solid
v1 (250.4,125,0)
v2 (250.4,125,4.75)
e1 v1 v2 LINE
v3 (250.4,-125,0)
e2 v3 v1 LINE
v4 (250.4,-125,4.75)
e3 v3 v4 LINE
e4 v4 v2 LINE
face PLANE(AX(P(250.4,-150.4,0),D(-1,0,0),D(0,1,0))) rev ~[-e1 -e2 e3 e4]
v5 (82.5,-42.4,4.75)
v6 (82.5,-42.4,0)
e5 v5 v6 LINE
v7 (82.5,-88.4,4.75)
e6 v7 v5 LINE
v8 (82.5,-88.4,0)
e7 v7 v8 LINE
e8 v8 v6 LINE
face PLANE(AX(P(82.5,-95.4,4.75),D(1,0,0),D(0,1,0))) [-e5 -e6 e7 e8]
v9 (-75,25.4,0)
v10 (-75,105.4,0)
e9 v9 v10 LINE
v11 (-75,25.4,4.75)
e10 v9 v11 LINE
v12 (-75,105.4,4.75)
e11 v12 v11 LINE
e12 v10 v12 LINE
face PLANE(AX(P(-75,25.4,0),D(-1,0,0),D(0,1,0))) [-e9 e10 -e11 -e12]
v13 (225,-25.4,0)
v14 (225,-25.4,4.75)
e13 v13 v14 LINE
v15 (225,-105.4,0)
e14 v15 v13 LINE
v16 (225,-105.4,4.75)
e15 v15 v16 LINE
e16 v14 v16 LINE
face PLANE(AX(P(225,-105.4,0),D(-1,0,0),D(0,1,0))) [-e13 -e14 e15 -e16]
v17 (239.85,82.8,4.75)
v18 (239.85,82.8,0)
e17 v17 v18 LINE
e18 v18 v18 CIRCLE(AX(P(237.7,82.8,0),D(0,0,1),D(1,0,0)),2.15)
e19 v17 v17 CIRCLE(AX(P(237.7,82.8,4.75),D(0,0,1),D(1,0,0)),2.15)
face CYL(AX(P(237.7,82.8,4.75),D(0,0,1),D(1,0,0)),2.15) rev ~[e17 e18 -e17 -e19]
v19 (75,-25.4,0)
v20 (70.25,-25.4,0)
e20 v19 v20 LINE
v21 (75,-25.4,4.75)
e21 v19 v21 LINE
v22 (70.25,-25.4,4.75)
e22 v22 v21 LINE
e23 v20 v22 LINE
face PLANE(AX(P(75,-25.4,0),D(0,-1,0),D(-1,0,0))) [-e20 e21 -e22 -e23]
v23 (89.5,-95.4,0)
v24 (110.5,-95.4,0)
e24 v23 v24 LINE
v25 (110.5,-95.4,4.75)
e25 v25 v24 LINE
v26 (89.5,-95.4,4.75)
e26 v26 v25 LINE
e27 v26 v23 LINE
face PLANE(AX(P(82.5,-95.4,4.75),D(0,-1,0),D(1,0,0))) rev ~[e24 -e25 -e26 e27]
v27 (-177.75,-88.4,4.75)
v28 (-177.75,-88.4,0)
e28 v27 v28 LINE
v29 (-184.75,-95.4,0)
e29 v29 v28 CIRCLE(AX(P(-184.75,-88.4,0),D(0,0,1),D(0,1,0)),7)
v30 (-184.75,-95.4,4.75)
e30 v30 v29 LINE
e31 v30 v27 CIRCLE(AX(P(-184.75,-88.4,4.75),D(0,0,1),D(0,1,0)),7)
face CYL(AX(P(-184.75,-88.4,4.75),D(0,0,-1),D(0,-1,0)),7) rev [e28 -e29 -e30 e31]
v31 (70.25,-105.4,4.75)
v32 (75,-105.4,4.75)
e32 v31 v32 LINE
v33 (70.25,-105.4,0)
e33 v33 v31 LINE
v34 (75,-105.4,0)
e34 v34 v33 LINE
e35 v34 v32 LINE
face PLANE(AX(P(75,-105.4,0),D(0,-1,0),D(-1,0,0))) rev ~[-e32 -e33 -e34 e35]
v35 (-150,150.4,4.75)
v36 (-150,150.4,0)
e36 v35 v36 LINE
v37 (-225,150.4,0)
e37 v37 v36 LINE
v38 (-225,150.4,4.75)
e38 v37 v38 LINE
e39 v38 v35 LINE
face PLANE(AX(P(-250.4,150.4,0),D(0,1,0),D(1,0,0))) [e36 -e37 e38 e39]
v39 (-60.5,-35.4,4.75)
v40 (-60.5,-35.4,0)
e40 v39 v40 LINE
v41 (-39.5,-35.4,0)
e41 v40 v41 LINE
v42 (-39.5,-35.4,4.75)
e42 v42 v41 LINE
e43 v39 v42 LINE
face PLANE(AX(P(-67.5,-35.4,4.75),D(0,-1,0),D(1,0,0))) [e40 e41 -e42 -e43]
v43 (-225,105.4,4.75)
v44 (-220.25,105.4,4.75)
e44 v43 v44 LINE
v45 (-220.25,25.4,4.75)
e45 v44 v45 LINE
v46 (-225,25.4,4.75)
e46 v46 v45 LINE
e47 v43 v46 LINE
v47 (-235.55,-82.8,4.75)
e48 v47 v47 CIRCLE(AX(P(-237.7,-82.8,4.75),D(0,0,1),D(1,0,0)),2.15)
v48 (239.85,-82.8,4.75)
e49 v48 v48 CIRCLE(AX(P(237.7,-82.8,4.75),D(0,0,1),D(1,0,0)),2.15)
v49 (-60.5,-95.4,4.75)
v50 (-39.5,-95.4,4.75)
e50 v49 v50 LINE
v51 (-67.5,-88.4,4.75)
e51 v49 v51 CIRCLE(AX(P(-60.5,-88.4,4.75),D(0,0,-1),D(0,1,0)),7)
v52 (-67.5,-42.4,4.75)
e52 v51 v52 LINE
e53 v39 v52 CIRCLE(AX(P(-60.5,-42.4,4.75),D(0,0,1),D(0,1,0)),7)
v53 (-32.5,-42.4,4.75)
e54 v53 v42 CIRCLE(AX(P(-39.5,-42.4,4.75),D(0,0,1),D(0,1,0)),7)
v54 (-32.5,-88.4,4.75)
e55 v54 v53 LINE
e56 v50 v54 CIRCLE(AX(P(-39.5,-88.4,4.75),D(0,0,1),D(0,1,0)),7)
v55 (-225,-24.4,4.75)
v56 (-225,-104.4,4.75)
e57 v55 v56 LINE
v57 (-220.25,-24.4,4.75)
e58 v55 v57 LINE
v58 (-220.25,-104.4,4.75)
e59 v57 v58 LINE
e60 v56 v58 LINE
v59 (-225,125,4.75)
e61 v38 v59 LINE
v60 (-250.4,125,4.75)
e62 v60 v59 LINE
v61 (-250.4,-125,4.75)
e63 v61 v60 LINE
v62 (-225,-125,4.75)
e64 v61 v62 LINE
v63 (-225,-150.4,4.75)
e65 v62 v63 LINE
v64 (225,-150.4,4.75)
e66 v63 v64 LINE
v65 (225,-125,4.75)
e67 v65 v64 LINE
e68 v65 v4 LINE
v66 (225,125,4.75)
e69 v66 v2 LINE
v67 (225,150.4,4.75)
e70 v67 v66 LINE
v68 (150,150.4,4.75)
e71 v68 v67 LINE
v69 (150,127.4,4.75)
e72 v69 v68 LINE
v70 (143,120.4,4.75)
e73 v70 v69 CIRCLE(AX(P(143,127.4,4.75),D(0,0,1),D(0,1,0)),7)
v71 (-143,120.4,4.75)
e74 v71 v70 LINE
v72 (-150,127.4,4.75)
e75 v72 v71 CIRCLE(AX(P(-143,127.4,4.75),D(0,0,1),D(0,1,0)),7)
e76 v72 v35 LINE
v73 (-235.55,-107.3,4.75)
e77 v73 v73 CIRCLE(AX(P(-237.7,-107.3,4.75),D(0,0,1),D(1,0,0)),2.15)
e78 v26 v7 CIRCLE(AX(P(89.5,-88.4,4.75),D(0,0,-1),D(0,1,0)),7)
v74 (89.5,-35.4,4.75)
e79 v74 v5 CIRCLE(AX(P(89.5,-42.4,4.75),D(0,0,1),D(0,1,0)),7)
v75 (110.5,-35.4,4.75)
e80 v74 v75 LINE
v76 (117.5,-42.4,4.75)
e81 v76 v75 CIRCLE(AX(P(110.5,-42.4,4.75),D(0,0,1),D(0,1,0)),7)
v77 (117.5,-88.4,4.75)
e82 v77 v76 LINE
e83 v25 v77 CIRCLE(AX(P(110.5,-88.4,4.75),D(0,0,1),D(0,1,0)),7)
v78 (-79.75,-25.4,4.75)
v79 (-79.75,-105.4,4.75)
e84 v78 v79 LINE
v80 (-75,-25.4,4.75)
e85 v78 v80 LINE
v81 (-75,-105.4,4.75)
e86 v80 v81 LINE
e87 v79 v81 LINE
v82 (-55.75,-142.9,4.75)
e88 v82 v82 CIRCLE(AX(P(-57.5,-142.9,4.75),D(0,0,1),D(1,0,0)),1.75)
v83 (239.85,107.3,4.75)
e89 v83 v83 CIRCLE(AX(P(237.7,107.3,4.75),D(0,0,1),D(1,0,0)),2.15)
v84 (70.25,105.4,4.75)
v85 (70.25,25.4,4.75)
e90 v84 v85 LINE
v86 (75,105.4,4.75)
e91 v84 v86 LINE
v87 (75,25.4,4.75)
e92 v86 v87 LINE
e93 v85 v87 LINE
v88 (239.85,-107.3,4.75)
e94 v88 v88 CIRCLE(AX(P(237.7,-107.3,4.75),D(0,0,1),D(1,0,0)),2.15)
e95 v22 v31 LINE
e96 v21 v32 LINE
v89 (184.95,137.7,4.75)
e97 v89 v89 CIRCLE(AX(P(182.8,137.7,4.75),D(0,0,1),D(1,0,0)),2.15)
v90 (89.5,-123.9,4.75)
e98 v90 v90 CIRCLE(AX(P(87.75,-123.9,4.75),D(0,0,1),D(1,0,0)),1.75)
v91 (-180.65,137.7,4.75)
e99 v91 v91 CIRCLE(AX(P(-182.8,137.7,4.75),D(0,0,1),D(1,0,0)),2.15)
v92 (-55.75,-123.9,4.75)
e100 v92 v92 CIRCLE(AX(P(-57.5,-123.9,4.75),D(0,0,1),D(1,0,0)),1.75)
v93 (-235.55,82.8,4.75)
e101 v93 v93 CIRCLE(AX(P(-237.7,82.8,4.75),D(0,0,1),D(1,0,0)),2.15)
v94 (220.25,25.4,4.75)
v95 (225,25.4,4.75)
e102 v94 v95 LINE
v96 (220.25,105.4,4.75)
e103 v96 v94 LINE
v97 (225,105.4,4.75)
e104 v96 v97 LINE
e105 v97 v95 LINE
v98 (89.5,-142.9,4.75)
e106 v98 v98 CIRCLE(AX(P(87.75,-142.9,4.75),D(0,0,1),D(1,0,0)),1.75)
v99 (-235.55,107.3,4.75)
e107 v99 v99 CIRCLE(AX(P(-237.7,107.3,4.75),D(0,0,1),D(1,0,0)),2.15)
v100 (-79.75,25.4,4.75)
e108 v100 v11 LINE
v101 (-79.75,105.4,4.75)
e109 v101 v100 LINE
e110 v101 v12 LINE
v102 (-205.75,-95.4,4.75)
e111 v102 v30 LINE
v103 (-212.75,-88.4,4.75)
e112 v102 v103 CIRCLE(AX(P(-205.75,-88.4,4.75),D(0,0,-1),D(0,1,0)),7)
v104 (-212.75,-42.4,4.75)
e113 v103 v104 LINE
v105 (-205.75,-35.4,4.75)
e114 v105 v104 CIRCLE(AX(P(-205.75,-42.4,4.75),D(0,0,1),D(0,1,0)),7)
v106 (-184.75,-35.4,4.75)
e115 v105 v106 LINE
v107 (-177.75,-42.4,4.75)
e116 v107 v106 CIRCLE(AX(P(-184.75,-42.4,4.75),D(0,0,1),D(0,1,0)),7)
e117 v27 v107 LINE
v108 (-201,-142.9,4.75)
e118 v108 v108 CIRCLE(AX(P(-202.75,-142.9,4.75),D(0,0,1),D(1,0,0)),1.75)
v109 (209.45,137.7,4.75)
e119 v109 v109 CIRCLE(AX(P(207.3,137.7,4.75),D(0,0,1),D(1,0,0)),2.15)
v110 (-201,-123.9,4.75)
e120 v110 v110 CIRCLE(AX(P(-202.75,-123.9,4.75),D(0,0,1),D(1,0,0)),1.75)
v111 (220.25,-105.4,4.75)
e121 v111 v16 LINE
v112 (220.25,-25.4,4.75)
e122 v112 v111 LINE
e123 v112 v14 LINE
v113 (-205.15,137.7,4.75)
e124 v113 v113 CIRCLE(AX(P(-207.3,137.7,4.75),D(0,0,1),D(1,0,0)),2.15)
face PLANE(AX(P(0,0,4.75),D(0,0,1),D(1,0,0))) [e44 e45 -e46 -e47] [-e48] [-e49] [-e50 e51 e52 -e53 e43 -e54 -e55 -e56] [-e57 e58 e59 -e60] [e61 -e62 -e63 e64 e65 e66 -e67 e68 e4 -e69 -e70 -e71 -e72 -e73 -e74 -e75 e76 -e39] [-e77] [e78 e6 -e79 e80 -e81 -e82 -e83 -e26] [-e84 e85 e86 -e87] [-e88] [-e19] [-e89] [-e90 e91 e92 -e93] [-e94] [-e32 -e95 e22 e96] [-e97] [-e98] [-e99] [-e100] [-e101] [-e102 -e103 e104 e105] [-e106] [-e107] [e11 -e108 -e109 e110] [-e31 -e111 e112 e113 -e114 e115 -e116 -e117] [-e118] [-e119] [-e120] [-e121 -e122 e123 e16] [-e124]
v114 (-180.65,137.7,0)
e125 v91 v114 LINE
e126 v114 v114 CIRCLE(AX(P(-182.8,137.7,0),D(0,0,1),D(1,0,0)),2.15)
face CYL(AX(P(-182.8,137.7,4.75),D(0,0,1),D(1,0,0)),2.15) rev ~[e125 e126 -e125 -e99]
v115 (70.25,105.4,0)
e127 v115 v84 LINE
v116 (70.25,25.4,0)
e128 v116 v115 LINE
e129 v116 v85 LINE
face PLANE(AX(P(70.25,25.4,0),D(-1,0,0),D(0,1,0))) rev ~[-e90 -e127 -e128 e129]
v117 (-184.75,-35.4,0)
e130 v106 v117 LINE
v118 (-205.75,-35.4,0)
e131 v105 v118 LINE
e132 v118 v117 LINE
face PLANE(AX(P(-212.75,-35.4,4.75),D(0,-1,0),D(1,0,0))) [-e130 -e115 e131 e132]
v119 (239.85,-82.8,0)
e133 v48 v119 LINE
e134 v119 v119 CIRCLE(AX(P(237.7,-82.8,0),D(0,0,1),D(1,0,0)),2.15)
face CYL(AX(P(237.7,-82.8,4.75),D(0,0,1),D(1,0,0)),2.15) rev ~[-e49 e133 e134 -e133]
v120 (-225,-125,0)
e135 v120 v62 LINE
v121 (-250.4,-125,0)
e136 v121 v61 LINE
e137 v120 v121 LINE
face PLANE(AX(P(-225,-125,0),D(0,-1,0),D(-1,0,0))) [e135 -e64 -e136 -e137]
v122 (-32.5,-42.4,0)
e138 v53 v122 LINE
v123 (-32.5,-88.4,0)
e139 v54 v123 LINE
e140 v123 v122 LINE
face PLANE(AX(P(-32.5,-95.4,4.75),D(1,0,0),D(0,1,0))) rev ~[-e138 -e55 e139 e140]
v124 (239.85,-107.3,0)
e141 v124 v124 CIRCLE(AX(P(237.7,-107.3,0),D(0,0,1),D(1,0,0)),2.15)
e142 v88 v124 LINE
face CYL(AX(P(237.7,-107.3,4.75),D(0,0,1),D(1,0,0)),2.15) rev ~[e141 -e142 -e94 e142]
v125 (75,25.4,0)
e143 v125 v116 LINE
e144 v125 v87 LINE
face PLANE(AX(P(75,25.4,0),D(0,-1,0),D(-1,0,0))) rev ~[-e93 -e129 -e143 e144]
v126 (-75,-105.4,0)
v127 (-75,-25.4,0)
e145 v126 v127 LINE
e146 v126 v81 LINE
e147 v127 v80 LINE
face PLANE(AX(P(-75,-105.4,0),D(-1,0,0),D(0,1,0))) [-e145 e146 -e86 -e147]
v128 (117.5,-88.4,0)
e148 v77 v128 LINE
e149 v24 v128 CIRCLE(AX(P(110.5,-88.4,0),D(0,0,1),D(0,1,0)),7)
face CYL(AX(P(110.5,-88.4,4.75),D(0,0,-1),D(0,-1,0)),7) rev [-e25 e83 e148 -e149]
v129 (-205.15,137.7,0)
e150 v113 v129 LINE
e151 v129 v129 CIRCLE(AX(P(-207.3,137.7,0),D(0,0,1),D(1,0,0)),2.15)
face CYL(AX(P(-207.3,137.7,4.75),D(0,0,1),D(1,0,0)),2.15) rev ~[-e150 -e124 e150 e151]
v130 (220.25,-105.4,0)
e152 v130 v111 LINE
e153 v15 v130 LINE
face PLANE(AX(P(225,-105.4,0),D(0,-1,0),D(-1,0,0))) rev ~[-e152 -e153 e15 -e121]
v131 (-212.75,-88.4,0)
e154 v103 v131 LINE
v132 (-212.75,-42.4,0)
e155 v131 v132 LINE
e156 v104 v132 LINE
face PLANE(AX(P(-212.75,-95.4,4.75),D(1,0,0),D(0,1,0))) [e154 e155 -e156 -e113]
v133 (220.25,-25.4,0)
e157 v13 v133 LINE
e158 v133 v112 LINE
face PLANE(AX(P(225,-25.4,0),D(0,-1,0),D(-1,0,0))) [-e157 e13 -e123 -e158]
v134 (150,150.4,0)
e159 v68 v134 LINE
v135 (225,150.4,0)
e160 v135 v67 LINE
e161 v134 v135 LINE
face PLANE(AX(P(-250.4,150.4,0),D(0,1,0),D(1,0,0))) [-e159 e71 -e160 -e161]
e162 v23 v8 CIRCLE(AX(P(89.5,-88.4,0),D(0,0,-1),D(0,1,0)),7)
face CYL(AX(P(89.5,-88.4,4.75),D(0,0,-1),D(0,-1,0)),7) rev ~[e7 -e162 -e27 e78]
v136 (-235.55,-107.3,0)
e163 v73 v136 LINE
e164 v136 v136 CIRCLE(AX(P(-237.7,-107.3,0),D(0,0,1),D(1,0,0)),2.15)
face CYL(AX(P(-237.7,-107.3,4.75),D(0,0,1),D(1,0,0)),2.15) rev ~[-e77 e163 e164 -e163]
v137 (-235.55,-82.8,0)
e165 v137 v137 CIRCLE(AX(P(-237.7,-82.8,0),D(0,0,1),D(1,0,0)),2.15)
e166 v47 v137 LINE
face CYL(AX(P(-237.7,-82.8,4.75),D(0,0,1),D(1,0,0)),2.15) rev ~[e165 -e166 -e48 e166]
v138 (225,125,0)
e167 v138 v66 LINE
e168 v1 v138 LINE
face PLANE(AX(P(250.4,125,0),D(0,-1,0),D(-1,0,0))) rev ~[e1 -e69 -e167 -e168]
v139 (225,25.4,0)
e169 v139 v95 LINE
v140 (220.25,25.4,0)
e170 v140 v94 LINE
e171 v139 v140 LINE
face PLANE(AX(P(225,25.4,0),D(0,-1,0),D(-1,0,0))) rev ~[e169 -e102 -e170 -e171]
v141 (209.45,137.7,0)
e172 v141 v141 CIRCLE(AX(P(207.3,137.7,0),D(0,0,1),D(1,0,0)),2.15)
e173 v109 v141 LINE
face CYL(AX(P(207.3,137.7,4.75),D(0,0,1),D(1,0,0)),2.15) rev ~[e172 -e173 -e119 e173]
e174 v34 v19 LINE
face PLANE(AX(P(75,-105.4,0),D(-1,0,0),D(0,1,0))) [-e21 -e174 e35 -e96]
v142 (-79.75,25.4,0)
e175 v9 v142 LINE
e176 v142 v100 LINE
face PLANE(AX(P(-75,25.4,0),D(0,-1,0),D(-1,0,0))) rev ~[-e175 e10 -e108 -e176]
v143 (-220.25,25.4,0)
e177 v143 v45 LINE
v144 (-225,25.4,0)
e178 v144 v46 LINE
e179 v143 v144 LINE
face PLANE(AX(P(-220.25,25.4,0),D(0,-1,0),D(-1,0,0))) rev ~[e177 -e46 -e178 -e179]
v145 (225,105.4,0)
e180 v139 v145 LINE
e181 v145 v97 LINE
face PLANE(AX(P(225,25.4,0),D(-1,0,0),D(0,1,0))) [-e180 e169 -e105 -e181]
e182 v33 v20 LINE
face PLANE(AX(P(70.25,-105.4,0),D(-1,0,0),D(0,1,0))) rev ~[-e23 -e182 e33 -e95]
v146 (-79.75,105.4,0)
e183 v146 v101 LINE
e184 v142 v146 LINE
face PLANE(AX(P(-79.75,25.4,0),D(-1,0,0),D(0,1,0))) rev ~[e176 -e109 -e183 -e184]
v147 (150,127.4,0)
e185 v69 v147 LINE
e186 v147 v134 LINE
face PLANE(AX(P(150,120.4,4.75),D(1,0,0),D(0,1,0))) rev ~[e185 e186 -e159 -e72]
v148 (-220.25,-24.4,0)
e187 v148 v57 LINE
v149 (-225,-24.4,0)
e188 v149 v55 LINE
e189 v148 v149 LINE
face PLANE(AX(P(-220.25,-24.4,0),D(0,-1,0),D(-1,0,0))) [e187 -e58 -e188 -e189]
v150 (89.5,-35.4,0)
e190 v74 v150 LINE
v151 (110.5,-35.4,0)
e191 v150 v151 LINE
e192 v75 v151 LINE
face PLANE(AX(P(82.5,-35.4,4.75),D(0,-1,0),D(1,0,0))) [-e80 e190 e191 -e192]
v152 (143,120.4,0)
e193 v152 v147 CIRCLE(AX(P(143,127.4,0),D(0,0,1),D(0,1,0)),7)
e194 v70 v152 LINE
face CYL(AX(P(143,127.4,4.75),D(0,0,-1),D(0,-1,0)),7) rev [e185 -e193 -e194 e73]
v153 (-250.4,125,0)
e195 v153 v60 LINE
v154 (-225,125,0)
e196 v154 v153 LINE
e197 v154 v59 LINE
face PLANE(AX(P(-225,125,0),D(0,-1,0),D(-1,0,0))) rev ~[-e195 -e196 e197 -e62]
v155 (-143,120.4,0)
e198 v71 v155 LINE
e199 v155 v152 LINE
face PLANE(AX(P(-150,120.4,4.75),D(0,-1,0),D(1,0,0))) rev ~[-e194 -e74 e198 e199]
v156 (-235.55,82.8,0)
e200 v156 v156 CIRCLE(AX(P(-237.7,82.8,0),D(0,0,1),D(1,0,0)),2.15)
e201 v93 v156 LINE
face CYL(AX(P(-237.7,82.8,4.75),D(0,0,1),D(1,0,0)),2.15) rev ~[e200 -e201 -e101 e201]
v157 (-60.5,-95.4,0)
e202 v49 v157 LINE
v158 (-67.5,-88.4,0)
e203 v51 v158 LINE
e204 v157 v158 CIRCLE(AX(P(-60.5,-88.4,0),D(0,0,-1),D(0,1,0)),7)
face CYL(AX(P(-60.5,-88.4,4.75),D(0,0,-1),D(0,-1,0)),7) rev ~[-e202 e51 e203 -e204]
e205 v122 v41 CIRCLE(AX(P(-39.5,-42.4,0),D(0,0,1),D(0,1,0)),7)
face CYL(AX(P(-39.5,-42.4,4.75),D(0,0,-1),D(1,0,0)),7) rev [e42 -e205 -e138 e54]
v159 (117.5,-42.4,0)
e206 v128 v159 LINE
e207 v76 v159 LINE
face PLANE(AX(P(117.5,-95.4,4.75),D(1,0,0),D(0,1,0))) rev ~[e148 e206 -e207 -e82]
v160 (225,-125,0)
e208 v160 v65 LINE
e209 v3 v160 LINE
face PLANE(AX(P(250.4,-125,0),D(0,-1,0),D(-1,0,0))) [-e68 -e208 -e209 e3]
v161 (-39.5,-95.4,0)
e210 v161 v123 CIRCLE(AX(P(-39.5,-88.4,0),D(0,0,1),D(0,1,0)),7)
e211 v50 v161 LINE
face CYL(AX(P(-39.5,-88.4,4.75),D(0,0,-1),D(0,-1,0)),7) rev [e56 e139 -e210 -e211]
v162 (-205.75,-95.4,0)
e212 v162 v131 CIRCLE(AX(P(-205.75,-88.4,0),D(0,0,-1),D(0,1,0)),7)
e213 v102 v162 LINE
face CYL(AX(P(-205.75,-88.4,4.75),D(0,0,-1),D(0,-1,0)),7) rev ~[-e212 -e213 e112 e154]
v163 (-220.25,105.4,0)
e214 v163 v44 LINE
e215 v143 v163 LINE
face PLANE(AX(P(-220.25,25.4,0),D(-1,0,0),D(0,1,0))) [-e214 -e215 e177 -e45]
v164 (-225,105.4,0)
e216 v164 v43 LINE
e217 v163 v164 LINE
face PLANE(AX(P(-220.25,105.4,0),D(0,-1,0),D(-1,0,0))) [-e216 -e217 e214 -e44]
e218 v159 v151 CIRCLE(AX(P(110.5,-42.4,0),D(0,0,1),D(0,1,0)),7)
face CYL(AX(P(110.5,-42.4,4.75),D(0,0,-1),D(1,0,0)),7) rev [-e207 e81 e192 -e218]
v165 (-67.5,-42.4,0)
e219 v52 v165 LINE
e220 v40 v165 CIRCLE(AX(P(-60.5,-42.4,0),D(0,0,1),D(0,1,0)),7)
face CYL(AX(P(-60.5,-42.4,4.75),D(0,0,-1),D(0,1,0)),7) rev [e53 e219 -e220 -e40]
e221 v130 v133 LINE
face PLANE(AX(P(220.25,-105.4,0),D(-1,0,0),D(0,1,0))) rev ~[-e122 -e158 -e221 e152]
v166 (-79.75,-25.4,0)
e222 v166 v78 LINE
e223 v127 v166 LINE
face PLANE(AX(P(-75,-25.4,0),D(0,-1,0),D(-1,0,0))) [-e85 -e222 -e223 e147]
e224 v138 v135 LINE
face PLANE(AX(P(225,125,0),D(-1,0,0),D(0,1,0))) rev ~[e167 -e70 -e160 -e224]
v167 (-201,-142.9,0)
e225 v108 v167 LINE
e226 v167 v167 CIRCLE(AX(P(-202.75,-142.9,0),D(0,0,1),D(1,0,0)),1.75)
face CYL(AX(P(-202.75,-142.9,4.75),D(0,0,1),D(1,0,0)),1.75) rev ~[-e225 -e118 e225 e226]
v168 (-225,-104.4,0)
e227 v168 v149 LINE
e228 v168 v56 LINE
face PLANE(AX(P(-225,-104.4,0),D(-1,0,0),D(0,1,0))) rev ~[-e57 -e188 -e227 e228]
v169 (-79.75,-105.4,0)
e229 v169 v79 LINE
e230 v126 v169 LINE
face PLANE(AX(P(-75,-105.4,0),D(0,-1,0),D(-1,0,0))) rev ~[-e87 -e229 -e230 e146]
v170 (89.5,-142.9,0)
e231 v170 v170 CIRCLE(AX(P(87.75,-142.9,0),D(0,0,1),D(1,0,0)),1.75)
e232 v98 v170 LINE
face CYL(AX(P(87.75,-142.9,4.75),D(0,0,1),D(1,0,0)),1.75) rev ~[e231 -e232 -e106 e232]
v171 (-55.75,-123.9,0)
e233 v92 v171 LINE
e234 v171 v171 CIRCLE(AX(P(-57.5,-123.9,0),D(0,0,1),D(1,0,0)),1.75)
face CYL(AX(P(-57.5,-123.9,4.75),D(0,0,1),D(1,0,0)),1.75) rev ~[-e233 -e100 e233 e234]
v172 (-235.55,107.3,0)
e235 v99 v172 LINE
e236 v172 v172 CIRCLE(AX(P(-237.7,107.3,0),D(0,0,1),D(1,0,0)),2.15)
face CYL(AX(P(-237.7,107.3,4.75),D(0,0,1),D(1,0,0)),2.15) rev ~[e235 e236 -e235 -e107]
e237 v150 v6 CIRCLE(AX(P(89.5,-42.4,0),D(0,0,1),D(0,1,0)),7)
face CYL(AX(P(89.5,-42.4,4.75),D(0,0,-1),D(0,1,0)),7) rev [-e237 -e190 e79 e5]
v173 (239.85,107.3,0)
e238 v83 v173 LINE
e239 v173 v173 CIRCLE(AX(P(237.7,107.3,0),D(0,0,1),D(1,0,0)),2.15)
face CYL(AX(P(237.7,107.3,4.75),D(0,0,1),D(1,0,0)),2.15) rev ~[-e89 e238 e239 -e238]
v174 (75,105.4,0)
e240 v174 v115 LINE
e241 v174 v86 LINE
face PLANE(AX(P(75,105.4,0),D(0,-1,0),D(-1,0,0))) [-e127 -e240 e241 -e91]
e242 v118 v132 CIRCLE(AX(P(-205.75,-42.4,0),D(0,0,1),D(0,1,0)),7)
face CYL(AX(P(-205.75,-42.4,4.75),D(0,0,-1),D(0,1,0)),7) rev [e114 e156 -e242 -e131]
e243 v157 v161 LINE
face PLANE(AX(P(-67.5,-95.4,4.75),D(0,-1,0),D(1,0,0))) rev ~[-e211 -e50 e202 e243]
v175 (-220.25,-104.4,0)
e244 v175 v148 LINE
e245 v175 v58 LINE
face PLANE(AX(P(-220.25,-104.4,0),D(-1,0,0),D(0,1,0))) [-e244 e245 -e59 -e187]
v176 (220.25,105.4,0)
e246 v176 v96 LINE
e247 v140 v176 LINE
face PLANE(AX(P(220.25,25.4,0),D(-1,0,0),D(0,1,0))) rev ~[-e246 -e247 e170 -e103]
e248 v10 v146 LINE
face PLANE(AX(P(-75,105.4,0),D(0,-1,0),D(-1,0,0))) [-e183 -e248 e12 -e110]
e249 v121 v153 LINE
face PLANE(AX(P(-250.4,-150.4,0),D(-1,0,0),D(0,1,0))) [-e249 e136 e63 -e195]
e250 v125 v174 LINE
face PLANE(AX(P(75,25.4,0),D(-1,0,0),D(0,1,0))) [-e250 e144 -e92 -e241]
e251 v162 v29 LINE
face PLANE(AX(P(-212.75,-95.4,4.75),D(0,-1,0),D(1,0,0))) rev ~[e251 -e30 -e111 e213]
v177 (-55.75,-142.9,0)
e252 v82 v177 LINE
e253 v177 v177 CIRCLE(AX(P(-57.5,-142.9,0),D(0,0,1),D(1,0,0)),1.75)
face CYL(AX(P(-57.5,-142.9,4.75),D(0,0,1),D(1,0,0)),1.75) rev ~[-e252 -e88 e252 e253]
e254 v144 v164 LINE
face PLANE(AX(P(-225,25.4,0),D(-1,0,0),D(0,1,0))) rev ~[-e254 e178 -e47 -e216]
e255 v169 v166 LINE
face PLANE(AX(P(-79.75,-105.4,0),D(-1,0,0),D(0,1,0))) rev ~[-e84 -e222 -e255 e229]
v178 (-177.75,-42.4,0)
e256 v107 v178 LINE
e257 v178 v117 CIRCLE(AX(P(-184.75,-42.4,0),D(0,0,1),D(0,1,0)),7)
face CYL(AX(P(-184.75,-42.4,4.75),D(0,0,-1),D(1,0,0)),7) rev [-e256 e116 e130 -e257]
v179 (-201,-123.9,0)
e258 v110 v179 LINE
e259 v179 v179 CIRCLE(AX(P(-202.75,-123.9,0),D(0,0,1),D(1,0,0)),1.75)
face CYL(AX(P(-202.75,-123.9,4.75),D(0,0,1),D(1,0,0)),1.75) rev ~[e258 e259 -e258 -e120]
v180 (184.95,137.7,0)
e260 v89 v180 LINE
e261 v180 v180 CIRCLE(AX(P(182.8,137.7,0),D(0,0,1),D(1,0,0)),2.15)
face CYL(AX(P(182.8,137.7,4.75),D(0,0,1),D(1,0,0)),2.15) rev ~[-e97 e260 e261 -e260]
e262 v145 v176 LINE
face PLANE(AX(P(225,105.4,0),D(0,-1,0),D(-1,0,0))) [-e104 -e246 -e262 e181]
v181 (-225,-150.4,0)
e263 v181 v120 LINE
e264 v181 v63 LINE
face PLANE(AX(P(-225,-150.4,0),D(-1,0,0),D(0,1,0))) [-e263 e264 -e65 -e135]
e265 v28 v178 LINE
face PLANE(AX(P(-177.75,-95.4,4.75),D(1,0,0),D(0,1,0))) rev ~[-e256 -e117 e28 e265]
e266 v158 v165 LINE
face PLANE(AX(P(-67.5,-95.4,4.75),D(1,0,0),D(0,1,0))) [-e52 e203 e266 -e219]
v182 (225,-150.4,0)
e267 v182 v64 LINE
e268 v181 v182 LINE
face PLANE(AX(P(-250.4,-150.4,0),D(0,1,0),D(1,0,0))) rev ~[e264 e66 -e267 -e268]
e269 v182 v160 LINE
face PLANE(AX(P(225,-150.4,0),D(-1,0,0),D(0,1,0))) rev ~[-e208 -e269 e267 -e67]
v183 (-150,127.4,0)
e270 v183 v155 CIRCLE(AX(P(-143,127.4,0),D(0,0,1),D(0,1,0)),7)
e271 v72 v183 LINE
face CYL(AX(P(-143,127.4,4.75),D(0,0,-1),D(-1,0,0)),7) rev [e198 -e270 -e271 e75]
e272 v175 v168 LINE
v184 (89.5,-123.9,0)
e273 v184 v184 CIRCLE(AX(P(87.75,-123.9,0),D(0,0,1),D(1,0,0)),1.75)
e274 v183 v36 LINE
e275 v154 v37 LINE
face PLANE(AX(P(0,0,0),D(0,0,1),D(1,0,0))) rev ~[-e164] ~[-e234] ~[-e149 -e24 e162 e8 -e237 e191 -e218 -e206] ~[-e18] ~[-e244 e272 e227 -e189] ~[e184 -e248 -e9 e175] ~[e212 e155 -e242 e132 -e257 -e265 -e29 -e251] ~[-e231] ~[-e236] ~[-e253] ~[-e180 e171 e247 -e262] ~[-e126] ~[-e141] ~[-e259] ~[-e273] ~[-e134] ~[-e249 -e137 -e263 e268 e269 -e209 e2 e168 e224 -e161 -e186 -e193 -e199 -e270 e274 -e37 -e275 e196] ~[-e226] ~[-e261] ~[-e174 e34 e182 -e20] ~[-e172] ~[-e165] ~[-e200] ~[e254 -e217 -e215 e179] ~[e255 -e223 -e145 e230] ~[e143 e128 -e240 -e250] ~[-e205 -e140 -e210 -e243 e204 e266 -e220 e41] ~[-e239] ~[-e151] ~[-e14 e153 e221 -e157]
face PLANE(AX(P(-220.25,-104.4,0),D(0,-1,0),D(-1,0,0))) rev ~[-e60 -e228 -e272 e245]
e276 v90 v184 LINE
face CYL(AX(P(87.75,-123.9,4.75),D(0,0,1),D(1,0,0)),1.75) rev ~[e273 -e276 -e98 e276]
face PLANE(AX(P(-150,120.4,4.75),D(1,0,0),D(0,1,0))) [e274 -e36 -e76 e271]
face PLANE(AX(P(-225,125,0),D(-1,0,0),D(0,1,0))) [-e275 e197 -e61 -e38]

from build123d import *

# Parameters (mm, degrees)
SKETCH_1_W          = 500.8
SKETCH_1_H          = 300.8
EXTRUDE_1_DEPTH     = 4.75
SKETCH_2_W          = 25.4
SKETCH_2_H          = 25.4
SKETCH_2_W_2        = 4.75
SKETCH_2_H_2        = 80
CUT_EXTRUDE_1_DEPTH = 25.4
SKETCH_3_R          = 2.15
SKETCH_3_R_2        = 2.150000004
CUT_EXTRUDE_2_DEPTH = 5
SKETCH_5_W          = 35
SKETCH_5_H          = 60
SKETCH_5_W_2        = 300
SKETCH_5_H_2        = 30
CUT_EXTRUDE_3_DEPTH = 10
FILLET_1_R          = 7
SKETCH_6_R          = 1.75
CUT_EXTRUDE_4_DEPTH = 10


with BuildPart() as part:
    # 草圖1 → 填料-伸長1 (new body)
    with BuildSketch(Plane.XY):
        Rectangle(SKETCH_1_W, SKETCH_1_H)
    extrude(amount=EXTRUDE_1_DEPTH)

    # 草圖2 → 除料-伸長1 (cut)
    with BuildSketch(Plane(origin=(0, 0, 0), x_dir=(-1, 0, 0), z_dir=(0, 0, -1))):
        with Locations((-237.7, 137.7)):
            Rectangle(SKETCH_2_W, SKETCH_2_H)
        with Locations((-237.7, -137.7)):
            Rectangle(SKETCH_2_W, SKETCH_2_H)
        with Locations((237.7, 137.7)):
            Rectangle(SKETCH_2_W, SKETCH_2_H)
        with Locations((237.7, -137.7)):
            Rectangle(SKETCH_2_W, SKETCH_2_H)
        with Locations((-222.625, 65.4)):
            Rectangle(SKETCH_2_W_2, SKETCH_2_H_2)
        with Locations((-222.625, -65.4)):
            Rectangle(SKETCH_2_W_2, SKETCH_2_H_2)
        with Locations((222.625, 65.4)):
            Rectangle(SKETCH_2_W_2, SKETCH_2_H_2)
        with Locations((222.625, -64.4)):
            Rectangle(SKETCH_2_W_2, SKETCH_2_H_2)
        with Locations((-72.625, 65.4)):
            Rectangle(SKETCH_2_W_2, SKETCH_2_H_2)
        with Locations((77.375, 65.4)):
            Rectangle(SKETCH_2_W_2, SKETCH_2_H_2)
        with Locations((77.375, -65.4)):
            Rectangle(SKETCH_2_W_2, SKETCH_2_H_2)
        with Locations((-72.625, -65.4)):
            Rectangle(SKETCH_2_W_2, SKETCH_2_H_2)
    extrude(amount=-CUT_EXTRUDE_1_DEPTH, mode=Mode.SUBTRACT)

    # 草圖3 → 除料-伸長2 (cut)
    with BuildSketch(Plane.XY.offset(4.75)):
        with Locations((-207.3, 137.7)):
            Circle(SKETCH_3_R)
        with Locations((-182.8, 137.7)):
            Circle(SKETCH_3_R)
        with Locations((182.8, 137.7)):
            Circle(SKETCH_3_R)
        with Locations((207.3, 137.7)):
            Circle(SKETCH_3_R)
        with Locations((237.7, 107.3)):
            Circle(SKETCH_3_R)
        with Locations((237.7, 82.8)):
            Circle(SKETCH_3_R)
        with Locations((237.7, -82.800000014)):
            Circle(SKETCH_3_R_2)
        with Locations((237.7, -107.300000014)):
            Circle(SKETCH_3_R_2)
        with Locations((-237.7, 107.3)):
            Circle(SKETCH_3_R)
        with Locations((-237.7, 82.8)):
            Circle(SKETCH_3_R)
        with Locations((-237.7, -82.800000014)):
            Circle(SKETCH_3_R_2)
        with Locations((-237.7, -107.300000014)):
            Circle(SKETCH_3_R_2)
    extrude(amount=-CUT_EXTRUDE_2_DEPTH, mode=Mode.SUBTRACT)

    # 草圖5 → 除料-伸長3 (cut)
    with BuildSketch(Plane.XY.offset(4.75)):
        with Locations((100, -65.4)):
            Rectangle(SKETCH_5_W, SKETCH_5_H)
        with Locations((-50, -65.4)):
            Rectangle(SKETCH_5_W, SKETCH_5_H)
        with Locations((-195.25, -65.4)):
            Rectangle(SKETCH_5_W, SKETCH_5_H)
        with Locations((0, 135.4)):
            Rectangle(SKETCH_5_W_2, SKETCH_5_H_2)
    extrude(amount=-CUT_EXTRUDE_3_DEPTH, mode=Mode.SUBTRACT)

    # 圓角1
    fillet_1_edges = [part.edges().sort_by_distance(p)[0] for p in [
        (-150, 120.4, 2.375),
        (150, 120.4, 2.375),
        (-177.75, -35.4, 2.375),
        (-177.75, -95.4, 2.375),
        (-212.75, -95.4, 2.375),
        (-212.75, -35.4, 2.375),
        (-32.5, -35.4, 2.375),
        (-32.5, -95.4, 2.375),
        (-67.5, -95.4, 2.375),
        (-67.5, -35.4, 2.375),
        (117.5, -35.4, 2.375),
        (117.5, -95.4, 2.375),
        (82.5, -95.4, 2.375),
        (82.5, -35.4, 2.375),
    ]]
    fillet(fillet_1_edges, radius=FILLET_1_R)

    # 草圖6 → 除料-伸長4 (cut)
    with BuildSketch(Plane.XY.offset(4.75)):
        with Locations((-202.75, -142.9)):
            Circle(SKETCH_6_R)
        with Locations((-202.75, -123.9)):
            Circle(SKETCH_6_R)
        with Locations((-57.5, -142.9)):
            Circle(SKETCH_6_R)
        with Locations((-57.5, -123.9)):
            Circle(SKETCH_6_R)
        with Locations((87.75, -142.9)):
            Circle(SKETCH_6_R)
        with Locations((87.75, -123.9)):
            Circle(SKETCH_6_R)
    extrude(amount=-CUT_EXTRUDE_4_DEPTH, mode=Mode.SUBTRACT)


solid = part.part
